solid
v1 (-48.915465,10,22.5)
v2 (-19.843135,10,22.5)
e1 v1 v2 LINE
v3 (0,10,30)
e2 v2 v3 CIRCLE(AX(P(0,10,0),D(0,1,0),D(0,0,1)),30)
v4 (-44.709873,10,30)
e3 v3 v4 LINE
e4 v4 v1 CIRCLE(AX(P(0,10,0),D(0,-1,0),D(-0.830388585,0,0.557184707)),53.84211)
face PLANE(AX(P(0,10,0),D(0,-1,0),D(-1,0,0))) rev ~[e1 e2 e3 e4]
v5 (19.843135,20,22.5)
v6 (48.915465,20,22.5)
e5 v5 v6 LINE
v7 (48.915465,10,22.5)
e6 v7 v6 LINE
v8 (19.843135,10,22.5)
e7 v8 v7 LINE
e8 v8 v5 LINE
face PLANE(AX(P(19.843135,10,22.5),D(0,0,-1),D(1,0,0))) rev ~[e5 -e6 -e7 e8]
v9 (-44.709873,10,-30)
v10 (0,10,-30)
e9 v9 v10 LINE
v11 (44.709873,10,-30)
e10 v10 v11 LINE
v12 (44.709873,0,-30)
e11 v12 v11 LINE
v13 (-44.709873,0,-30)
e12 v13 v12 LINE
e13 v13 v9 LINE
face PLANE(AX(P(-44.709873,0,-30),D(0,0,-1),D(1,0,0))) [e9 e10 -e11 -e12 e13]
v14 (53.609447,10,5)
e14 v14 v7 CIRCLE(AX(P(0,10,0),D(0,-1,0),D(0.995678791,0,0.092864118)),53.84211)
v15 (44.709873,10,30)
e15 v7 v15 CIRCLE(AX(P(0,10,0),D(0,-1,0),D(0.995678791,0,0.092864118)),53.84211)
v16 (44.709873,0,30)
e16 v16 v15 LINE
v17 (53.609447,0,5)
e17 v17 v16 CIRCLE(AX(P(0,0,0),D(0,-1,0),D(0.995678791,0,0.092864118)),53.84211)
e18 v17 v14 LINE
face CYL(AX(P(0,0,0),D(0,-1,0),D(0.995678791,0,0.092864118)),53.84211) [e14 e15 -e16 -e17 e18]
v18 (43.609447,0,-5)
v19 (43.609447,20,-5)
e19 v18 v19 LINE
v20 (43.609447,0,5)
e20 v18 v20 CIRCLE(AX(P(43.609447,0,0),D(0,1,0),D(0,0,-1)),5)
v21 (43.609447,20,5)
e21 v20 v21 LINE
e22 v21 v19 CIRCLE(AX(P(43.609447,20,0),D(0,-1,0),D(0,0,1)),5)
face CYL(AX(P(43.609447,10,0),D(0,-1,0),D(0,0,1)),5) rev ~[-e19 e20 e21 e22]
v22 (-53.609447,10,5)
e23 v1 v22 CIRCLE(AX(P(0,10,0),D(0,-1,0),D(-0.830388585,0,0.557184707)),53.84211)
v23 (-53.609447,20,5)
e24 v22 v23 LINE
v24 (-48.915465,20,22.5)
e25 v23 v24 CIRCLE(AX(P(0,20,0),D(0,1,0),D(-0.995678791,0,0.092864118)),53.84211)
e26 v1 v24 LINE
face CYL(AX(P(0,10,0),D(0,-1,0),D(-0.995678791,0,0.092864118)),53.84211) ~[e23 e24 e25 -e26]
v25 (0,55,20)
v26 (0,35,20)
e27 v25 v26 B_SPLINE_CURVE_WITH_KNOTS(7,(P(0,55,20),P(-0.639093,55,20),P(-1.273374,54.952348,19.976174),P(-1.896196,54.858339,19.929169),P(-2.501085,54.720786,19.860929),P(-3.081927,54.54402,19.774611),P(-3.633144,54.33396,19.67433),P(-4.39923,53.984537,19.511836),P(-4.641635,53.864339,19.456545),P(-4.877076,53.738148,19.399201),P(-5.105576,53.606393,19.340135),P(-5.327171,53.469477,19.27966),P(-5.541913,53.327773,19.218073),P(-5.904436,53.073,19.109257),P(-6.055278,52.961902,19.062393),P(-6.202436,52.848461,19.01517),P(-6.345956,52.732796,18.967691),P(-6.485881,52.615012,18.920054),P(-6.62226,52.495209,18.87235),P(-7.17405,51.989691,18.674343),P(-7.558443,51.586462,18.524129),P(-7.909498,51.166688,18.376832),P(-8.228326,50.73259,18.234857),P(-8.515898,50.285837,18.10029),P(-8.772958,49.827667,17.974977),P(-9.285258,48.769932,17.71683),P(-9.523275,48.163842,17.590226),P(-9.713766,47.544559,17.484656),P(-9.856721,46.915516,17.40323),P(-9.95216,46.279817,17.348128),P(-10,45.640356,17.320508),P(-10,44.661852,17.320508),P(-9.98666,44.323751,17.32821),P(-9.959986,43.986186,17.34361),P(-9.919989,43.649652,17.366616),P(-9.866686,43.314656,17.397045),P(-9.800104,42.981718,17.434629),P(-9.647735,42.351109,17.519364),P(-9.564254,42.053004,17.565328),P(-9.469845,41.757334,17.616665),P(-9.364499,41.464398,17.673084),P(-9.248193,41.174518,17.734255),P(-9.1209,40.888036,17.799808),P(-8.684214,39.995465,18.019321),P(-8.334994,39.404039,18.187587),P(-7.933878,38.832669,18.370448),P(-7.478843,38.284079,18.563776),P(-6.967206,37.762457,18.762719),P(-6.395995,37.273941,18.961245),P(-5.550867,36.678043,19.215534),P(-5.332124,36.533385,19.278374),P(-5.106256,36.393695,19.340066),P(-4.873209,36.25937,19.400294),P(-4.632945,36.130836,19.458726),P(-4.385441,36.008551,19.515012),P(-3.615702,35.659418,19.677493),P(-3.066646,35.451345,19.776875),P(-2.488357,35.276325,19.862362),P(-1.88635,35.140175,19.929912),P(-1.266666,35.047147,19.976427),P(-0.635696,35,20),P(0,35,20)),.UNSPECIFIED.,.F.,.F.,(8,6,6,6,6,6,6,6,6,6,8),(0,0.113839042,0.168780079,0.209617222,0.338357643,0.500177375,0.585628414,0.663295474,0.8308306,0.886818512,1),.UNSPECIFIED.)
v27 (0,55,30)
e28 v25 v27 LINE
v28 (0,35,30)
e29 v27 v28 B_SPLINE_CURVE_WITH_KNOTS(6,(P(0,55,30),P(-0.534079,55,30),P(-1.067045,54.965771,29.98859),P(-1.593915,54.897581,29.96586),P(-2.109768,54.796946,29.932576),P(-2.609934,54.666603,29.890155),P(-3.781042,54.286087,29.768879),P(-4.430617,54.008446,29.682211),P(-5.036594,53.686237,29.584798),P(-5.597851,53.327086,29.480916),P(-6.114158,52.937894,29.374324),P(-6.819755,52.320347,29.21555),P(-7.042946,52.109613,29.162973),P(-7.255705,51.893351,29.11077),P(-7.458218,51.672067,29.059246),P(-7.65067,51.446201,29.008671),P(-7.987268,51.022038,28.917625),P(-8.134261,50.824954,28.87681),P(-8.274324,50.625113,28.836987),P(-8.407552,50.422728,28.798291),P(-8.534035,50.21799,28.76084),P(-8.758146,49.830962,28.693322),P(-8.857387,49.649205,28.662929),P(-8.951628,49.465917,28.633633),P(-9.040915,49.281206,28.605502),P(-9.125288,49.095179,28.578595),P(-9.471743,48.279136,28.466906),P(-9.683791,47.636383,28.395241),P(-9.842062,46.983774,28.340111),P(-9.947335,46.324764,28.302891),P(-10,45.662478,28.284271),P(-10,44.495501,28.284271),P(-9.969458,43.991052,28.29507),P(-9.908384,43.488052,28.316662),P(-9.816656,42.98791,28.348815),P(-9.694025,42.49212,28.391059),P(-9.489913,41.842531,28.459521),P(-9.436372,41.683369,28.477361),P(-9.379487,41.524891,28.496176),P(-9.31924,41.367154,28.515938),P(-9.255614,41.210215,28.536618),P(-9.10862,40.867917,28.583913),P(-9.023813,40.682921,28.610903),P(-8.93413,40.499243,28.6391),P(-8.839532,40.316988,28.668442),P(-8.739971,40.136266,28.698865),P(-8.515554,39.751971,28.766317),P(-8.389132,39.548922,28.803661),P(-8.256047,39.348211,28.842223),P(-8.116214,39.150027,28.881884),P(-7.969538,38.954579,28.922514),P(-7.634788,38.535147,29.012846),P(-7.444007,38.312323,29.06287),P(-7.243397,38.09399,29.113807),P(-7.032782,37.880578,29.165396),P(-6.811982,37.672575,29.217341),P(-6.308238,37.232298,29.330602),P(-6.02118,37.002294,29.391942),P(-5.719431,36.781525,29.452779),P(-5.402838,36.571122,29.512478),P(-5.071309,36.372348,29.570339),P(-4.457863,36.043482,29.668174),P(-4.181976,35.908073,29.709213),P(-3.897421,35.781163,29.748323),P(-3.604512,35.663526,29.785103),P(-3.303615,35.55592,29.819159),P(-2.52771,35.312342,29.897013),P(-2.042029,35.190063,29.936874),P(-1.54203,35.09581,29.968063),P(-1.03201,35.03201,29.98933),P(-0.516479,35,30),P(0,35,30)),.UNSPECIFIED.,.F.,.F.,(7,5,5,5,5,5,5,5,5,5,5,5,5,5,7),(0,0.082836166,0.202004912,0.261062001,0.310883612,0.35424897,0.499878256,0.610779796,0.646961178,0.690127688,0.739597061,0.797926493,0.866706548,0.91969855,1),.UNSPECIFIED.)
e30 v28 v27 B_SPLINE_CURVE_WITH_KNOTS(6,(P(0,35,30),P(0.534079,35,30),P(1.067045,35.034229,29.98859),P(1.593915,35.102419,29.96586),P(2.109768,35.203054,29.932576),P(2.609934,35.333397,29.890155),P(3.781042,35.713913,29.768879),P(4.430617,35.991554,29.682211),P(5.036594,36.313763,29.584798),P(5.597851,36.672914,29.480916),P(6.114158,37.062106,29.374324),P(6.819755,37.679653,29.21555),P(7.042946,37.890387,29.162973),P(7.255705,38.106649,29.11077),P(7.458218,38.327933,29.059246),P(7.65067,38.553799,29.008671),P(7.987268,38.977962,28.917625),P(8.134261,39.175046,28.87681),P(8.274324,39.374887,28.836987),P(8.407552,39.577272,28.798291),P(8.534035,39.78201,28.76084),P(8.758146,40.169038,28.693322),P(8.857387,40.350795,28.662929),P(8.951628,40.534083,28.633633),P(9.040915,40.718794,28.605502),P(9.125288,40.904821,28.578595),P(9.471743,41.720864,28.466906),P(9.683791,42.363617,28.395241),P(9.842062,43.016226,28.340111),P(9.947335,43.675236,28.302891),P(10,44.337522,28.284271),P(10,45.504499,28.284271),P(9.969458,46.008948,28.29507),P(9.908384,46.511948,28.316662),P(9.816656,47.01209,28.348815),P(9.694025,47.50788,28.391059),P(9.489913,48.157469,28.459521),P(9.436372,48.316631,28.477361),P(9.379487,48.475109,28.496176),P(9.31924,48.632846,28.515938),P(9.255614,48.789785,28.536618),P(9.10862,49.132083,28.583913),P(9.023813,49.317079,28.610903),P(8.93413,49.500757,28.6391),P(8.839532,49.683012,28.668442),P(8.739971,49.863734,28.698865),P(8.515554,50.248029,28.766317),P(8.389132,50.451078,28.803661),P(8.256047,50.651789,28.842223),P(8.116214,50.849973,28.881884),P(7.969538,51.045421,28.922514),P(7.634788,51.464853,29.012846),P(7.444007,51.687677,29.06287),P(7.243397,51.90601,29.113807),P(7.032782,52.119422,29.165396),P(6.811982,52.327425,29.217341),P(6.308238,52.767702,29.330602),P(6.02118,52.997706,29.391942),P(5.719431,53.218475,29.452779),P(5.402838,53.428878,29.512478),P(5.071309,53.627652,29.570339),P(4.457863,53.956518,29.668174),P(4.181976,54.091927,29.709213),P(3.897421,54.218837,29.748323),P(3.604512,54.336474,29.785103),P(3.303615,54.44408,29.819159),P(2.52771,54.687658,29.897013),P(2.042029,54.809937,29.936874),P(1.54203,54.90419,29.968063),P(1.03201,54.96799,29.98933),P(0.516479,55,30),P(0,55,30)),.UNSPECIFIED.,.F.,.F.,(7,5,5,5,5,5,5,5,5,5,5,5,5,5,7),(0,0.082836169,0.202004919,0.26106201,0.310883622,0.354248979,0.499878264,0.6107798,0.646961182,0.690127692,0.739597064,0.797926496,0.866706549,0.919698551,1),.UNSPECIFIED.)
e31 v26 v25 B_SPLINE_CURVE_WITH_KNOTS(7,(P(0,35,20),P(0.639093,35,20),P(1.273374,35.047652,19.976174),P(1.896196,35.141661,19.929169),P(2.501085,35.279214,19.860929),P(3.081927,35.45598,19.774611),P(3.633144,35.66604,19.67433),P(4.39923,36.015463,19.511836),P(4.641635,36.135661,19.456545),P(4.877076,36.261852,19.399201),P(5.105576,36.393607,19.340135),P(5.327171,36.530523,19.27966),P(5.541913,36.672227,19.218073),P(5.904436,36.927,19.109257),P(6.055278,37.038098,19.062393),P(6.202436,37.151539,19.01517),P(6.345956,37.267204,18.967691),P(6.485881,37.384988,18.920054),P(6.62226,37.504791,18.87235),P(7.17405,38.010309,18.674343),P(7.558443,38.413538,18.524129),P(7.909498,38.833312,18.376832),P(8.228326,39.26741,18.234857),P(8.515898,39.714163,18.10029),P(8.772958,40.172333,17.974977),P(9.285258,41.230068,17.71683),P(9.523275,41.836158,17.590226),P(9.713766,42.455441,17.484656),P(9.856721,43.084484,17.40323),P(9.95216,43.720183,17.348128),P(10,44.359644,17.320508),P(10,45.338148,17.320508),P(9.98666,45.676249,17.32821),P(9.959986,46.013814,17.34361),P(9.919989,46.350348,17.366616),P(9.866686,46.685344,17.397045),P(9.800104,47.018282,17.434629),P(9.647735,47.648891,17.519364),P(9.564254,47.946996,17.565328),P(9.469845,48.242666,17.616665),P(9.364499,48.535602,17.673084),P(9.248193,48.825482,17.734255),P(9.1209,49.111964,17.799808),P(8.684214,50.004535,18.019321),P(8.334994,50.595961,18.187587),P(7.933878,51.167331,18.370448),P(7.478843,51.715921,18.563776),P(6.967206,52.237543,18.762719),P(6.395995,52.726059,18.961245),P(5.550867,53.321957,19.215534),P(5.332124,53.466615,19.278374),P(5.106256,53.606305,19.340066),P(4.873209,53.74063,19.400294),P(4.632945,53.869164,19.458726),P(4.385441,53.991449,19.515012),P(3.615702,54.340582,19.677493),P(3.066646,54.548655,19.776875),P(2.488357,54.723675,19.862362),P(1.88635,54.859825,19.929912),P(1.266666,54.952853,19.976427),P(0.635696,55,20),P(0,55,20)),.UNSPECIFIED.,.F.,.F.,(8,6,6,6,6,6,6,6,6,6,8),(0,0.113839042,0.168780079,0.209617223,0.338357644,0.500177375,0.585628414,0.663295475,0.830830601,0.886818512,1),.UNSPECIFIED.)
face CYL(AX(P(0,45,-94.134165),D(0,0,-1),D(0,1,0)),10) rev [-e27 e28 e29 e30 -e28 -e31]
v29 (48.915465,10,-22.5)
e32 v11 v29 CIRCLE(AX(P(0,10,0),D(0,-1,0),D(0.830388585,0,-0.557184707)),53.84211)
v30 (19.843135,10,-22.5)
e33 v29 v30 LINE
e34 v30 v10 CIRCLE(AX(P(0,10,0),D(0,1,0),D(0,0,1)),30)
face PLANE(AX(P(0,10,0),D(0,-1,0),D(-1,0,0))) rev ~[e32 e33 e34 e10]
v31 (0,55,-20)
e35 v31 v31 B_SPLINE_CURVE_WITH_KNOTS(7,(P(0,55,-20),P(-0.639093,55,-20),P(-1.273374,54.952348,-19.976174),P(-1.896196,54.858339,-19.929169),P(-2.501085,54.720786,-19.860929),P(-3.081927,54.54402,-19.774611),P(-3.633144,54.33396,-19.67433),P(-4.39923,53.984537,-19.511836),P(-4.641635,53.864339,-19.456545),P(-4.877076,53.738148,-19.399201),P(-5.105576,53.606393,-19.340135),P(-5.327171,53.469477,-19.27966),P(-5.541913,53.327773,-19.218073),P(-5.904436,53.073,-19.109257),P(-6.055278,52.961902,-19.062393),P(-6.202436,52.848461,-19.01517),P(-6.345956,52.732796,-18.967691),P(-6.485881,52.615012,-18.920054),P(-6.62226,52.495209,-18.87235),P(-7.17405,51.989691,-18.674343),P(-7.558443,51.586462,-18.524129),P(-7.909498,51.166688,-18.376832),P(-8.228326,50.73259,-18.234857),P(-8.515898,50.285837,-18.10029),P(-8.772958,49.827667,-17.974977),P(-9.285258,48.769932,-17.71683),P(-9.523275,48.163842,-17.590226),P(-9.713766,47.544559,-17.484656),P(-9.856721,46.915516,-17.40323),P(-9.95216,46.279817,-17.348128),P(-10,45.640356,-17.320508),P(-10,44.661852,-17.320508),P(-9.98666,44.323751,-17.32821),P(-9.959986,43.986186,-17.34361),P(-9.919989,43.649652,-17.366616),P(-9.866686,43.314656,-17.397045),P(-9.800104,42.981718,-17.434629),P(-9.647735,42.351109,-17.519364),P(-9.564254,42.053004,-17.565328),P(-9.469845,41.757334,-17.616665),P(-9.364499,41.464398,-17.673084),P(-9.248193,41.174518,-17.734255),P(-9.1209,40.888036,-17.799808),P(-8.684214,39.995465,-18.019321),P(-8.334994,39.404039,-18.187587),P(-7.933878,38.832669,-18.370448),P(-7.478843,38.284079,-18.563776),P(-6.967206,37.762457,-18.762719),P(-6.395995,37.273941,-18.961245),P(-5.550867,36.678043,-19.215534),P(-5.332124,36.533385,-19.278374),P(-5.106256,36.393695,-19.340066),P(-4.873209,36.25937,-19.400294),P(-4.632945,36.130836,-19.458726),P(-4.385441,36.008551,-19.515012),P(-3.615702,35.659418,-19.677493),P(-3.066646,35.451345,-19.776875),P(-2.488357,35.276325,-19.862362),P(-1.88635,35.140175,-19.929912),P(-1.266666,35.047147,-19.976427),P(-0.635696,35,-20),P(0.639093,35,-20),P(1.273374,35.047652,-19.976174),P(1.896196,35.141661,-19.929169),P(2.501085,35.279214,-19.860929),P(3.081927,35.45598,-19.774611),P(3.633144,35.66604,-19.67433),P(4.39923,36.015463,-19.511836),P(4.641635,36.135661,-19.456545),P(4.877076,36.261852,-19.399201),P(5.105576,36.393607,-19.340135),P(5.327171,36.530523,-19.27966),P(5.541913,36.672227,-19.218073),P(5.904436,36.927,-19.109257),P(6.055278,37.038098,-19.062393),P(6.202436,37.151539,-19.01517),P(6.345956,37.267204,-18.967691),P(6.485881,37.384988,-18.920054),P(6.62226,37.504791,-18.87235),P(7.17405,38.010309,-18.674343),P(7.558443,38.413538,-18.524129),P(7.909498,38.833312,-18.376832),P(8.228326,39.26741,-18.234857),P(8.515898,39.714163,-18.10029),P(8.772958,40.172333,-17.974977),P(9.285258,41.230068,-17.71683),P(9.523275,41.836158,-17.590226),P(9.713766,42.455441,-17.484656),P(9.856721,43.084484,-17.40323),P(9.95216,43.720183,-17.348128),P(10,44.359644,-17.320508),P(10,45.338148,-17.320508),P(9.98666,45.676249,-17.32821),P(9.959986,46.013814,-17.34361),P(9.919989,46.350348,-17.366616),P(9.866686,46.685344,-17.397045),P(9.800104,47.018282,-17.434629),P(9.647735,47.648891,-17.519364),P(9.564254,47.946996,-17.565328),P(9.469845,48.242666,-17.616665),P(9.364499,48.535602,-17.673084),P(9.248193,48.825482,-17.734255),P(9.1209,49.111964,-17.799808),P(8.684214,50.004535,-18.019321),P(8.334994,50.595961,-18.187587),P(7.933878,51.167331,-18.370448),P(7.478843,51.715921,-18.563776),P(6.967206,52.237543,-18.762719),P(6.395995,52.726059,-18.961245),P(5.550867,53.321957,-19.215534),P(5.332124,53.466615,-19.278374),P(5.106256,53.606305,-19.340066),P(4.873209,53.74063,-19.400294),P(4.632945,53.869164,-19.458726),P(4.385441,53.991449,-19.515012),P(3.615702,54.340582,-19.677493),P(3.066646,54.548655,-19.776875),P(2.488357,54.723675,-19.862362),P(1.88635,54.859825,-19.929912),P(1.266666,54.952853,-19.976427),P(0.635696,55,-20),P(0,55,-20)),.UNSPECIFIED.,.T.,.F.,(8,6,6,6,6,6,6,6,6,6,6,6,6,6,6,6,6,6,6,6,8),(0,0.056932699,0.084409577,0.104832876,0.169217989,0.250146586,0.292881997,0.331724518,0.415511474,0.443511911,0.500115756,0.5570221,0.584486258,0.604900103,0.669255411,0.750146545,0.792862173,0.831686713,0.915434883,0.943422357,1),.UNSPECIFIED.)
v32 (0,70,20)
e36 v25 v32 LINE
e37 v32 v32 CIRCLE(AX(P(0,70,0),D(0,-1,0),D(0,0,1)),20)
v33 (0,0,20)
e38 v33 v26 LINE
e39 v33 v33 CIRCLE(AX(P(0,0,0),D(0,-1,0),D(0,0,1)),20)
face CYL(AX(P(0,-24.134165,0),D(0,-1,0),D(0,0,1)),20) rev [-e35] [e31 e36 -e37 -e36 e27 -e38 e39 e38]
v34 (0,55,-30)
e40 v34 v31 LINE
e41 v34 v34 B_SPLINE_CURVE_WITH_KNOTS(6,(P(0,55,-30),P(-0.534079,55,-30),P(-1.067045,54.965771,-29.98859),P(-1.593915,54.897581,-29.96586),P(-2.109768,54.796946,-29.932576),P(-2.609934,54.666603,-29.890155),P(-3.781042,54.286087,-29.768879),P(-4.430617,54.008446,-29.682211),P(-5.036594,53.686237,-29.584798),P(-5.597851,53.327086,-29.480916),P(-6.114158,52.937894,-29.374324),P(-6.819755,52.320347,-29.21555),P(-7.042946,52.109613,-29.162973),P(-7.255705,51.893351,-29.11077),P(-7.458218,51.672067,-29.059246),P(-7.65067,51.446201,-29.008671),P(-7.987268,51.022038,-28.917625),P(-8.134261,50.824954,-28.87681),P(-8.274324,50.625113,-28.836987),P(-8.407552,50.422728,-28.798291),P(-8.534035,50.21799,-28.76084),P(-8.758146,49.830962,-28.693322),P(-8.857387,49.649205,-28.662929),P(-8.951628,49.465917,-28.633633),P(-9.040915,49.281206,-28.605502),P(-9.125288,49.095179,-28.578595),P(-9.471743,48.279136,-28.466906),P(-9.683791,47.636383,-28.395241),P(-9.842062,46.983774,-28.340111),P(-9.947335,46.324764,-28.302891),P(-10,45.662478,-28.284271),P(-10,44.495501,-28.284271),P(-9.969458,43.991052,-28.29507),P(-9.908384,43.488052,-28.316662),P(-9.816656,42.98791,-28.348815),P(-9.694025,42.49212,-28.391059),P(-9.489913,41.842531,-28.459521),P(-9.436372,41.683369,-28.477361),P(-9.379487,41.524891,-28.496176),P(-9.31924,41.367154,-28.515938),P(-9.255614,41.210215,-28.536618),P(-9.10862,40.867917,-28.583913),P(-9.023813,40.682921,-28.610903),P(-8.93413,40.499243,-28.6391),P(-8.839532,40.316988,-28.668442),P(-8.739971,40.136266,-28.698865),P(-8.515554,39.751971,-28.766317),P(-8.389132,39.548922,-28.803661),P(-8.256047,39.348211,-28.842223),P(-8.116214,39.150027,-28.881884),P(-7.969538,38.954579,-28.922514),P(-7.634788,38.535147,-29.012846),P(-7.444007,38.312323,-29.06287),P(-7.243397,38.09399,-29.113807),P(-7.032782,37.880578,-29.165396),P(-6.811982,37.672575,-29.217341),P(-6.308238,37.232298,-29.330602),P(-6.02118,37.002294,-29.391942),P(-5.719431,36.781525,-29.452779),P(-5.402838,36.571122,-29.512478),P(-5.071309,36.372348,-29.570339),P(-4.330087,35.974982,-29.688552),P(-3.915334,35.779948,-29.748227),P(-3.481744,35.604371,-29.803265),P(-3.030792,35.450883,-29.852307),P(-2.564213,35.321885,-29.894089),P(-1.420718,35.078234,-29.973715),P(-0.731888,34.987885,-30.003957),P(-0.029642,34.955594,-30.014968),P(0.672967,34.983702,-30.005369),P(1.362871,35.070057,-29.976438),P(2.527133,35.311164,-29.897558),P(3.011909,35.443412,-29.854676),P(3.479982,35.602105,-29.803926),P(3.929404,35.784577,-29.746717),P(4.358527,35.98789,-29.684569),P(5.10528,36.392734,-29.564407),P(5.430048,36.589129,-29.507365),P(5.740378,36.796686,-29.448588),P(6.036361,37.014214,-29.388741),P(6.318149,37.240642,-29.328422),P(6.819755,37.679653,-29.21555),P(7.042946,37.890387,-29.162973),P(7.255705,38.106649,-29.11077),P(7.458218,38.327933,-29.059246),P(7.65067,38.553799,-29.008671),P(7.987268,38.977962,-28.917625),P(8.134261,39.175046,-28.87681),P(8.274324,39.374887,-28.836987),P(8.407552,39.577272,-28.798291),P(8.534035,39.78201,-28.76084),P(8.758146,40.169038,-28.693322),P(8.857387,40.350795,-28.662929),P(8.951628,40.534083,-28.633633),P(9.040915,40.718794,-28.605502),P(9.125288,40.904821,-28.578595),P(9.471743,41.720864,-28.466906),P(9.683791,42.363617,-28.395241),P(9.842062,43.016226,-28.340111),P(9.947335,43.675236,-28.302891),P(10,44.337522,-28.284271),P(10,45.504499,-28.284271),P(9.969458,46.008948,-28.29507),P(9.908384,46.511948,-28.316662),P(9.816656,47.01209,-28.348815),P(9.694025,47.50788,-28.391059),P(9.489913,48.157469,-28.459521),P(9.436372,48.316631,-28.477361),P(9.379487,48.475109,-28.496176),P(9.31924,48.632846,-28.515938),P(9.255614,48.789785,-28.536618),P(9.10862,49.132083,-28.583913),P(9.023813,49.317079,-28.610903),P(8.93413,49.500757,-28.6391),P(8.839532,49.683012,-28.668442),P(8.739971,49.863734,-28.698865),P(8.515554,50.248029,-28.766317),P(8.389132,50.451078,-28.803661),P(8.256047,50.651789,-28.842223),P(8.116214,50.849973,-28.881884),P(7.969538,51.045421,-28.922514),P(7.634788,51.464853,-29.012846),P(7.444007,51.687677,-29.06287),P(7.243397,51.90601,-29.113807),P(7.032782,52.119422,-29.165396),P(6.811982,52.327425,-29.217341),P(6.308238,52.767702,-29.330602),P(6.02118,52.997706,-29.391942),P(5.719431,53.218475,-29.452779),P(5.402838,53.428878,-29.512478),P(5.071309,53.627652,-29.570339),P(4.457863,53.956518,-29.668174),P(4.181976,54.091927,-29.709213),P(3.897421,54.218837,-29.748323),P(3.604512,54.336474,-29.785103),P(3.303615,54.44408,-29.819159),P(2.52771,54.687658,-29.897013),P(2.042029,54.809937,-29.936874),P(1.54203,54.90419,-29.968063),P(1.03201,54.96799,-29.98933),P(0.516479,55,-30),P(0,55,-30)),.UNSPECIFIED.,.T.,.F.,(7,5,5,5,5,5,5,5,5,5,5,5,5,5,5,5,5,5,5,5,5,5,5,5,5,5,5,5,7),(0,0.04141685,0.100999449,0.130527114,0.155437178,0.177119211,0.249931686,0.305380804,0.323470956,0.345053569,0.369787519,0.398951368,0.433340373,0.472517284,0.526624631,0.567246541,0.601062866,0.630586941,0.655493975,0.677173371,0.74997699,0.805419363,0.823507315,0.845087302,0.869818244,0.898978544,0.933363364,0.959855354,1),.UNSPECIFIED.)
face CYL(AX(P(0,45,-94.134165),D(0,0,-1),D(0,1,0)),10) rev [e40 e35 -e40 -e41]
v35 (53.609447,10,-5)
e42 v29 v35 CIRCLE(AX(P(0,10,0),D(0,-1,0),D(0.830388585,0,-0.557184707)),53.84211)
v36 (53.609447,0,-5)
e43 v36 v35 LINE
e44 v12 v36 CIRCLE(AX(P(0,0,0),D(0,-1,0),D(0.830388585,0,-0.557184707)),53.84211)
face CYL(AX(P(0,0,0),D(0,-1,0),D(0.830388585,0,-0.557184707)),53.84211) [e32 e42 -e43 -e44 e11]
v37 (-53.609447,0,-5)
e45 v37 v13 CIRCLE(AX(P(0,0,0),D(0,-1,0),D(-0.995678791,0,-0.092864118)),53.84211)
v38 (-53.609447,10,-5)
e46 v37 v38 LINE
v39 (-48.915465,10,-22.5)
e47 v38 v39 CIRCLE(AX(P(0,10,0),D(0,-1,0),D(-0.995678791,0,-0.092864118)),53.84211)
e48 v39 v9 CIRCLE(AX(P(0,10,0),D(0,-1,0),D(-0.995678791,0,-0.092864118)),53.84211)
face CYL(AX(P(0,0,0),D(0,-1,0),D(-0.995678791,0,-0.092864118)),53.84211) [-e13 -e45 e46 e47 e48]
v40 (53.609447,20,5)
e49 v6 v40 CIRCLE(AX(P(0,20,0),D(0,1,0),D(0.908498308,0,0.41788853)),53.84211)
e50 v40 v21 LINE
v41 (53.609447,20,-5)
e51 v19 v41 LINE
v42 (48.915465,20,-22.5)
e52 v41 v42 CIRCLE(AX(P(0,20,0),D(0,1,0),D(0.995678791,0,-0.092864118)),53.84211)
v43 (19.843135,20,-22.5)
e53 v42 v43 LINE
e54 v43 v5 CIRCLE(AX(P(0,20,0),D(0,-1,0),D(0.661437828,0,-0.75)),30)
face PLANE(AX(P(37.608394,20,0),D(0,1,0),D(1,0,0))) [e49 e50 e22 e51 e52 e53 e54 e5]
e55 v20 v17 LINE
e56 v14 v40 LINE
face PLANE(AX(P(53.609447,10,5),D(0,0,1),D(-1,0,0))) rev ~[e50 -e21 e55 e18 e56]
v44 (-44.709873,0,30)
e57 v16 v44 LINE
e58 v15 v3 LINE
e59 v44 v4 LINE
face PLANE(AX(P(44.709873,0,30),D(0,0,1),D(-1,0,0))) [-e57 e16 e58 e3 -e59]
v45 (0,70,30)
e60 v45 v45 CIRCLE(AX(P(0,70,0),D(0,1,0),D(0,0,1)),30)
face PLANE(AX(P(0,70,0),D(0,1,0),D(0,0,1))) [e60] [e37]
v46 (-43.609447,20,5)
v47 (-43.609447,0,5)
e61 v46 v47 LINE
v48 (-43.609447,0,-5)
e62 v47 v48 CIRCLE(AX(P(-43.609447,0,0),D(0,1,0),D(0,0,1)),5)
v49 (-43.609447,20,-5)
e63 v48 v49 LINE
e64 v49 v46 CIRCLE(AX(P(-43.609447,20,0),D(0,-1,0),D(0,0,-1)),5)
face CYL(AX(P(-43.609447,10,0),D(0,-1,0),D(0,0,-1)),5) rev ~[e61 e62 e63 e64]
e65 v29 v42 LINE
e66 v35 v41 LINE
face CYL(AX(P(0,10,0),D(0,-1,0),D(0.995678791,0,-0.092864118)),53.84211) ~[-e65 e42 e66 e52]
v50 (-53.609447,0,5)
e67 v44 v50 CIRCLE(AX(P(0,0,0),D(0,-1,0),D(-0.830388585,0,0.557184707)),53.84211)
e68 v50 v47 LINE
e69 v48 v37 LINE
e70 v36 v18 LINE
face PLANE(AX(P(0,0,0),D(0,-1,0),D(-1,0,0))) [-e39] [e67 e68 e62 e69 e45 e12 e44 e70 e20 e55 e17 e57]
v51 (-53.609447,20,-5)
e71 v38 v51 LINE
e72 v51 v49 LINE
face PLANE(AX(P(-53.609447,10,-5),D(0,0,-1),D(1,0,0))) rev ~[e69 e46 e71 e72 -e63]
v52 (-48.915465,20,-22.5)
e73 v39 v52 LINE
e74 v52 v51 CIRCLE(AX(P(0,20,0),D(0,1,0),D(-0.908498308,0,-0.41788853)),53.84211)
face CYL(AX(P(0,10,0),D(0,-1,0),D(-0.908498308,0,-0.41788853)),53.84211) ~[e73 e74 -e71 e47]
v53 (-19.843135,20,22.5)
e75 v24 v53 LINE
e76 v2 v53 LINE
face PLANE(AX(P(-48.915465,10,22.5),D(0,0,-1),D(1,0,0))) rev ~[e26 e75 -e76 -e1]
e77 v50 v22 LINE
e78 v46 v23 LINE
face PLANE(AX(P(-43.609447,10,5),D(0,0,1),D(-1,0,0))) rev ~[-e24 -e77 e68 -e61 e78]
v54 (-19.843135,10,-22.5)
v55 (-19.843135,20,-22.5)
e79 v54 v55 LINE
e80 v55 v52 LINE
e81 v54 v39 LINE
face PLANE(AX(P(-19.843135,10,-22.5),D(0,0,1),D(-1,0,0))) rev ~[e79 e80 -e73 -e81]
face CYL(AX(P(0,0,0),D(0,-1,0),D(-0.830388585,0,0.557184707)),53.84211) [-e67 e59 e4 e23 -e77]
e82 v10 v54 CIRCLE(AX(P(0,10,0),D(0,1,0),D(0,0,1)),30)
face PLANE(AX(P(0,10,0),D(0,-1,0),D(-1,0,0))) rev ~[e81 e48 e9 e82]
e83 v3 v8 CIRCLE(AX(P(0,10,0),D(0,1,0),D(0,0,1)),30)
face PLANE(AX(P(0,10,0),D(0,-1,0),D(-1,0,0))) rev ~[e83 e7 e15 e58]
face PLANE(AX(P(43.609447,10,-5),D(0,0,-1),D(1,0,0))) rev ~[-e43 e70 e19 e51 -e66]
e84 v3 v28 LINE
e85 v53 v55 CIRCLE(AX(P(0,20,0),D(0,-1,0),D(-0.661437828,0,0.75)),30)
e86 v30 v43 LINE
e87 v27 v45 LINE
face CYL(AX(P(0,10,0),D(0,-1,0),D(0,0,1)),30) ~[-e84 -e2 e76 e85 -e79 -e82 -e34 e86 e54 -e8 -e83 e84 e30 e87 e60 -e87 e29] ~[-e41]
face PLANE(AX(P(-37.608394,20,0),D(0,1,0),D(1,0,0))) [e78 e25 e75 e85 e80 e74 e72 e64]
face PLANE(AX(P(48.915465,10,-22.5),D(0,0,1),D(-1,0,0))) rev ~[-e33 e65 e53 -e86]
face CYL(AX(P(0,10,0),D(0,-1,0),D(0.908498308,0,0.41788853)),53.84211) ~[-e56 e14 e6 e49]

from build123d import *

# Parameters (mm, degrees)
EXTRUDE_1_DEPTH          = 10
SKETCH_3_R               = 30
EXTRUDE_2_DEPTH          = 60
CUT_EXTRUDE_1_DEPTH      = 94.134165345
CUT_EXTRUDE_1_DEPTH_BACK = 94.134165345
SKETCH_4_R               = 10
EXTRUDE_3_DEPTH          = 10
CUT_EXTRUDE_2_DEPTH      = 94.134165377
CUT_EXTRUDE_2_DEPTH_BACK = 94.134165377
SKETCH_8_R               = 20


with BuildPart() as part:
    # 草图2 → 凸台-拉伸1 (new body)
    with BuildSketch(Plane(origin=(0, 0, 0), x_dir=(1, 0, 0), z_dir=(0, 1, 0))):
        with BuildLine():
            Line((53.609446504, 5), (43.609446504, 5))
            ThreePointArc((43.609446504, 5), (38.609446504, 0), (43.609446504, -5))
            Line((43.609446504, -5), (53.609446504, -5))
            ThreePointArc((53.609446504, -5), (50.723980057, -18.056871313), (44.709873121, -30))
            Line((44.709873121, -30), (-44.709873121, -30))
            ThreePointArc((-44.709873121, -30), (-50.723980057, -18.056871313), (-53.609446504, -5))
            Line((-53.609446504, -5), (-43.609446504, -5))
            ThreePointArc((-43.609446504, -5), (-38.609446504, 0), (-43.609446504, 5))
            Line((-43.609446504, 5), (-53.609446504, 5))
            ThreePointArc((-53.609446504, 5), (-50.723980057, 18.056871313), (-44.709873121, 30))
            Line((-44.709873121, 30), (44.709873121, 30))
            ThreePointArc((44.709873121, 30), (50.723980057, 18.056871313), (53.609446504, 5))
        make_face()
    extrude(amount=EXTRUDE_1_DEPTH)

    # 草图3 → 凸台-拉伸2 (add)
    with BuildSketch(Plane(origin=(0, 10, 0), x_dir=(1, 0, 0), z_dir=(0, 1, 0))):
        with Locations(Location((0, 0, 0), (0, 0, 270))):
            Circle(SKETCH_3_R)
    extrude(amount=EXTRUDE_2_DEPTH)

    # 草图4 → 切除-拉伸1 (cut, two sides: drawn at the far end of the back side and taken through both)
    with BuildSketch(Plane.XY.offset(-CUT_EXTRUDE_1_DEPTH_BACK)):
        with Locations(Location((0, 45, 0), (0, 0, 90))):
            Circle(SKETCH_4_R)
    extrude(amount=CUT_EXTRUDE_1_DEPTH + CUT_EXTRUDE_1_DEPTH_BACK, mode=Mode.SUBTRACT)

    # 草图7 → 凸台-拉伸3 (add)
    with BuildSketch(Plane(origin=(0, 10, 0), x_dir=(1, 0, 0), z_dir=(0, 1, 0))):
        with BuildLine():
            Line((-48.915465391, -22.5), (-19.843134833, -22.5))
            ThreePointArc((-19.843134833, -22.5), (-30, 0), (-19.843134833, 22.5))
            Line((-19.843134833, 22.5), (-48.915465391, 22.5))
            ThreePointArc((-48.915465391, 22.5), (-52.003864181, 13.948866071), (-53.609446504, 5))
            Line((-53.609446504, 5), (-43.609446504, 5))
            ThreePointArc((-43.609446504, 5), (-38.609446504, 0), (-43.609446504, -5))
            Line((-43.609446504, -5), (-53.609446504, -5))
            ThreePointArc((-53.609446504, -5), (-52.003864181, -13.948866071), (-48.915465391, -22.5))
        make_face()
        with BuildLine():
            Line((19.843134833, -22.5), (48.915465391, -22.5))
            ThreePointArc((48.915465391, -22.5), (52.003864181, -13.948866071), (53.609446504, -5))
            Line((53.609446504, -5), (43.609446504, -5))
            ThreePointArc((43.609446504, -5), (38.609446504, 0), (43.609446504, 5))
            Line((43.609446504, 5), (53.609446504, 5))
            ThreePointArc((53.609446504, 5), (52.003864181, 13.948866071), (48.915465391, 22.5))
            Line((48.915465391, 22.5), (19.843134833, 22.5))
            ThreePointArc((19.843134833, 22.5), (30, 0), (19.843134833, -22.5))
        make_face()
    extrude(amount=EXTRUDE_3_DEPTH)

    # 草图8 → 切除-拉伸2 (cut, two sides: drawn at the far end of the back side and taken through both)
    with BuildSketch(Plane(origin=(0, 70, 0), x_dir=(1, 0, 0), z_dir=(0, 1, 0)).offset(-CUT_EXTRUDE_2_DEPTH_BACK)):
        with Locations(Location((0, 0, 0), (0, 0, 270))):
            Circle(SKETCH_8_R)
    extrude(amount=CUT_EXTRUDE_2_DEPTH + CUT_EXTRUDE_2_DEPTH_BACK, mode=Mode.SUBTRACT)


solid = part.part
